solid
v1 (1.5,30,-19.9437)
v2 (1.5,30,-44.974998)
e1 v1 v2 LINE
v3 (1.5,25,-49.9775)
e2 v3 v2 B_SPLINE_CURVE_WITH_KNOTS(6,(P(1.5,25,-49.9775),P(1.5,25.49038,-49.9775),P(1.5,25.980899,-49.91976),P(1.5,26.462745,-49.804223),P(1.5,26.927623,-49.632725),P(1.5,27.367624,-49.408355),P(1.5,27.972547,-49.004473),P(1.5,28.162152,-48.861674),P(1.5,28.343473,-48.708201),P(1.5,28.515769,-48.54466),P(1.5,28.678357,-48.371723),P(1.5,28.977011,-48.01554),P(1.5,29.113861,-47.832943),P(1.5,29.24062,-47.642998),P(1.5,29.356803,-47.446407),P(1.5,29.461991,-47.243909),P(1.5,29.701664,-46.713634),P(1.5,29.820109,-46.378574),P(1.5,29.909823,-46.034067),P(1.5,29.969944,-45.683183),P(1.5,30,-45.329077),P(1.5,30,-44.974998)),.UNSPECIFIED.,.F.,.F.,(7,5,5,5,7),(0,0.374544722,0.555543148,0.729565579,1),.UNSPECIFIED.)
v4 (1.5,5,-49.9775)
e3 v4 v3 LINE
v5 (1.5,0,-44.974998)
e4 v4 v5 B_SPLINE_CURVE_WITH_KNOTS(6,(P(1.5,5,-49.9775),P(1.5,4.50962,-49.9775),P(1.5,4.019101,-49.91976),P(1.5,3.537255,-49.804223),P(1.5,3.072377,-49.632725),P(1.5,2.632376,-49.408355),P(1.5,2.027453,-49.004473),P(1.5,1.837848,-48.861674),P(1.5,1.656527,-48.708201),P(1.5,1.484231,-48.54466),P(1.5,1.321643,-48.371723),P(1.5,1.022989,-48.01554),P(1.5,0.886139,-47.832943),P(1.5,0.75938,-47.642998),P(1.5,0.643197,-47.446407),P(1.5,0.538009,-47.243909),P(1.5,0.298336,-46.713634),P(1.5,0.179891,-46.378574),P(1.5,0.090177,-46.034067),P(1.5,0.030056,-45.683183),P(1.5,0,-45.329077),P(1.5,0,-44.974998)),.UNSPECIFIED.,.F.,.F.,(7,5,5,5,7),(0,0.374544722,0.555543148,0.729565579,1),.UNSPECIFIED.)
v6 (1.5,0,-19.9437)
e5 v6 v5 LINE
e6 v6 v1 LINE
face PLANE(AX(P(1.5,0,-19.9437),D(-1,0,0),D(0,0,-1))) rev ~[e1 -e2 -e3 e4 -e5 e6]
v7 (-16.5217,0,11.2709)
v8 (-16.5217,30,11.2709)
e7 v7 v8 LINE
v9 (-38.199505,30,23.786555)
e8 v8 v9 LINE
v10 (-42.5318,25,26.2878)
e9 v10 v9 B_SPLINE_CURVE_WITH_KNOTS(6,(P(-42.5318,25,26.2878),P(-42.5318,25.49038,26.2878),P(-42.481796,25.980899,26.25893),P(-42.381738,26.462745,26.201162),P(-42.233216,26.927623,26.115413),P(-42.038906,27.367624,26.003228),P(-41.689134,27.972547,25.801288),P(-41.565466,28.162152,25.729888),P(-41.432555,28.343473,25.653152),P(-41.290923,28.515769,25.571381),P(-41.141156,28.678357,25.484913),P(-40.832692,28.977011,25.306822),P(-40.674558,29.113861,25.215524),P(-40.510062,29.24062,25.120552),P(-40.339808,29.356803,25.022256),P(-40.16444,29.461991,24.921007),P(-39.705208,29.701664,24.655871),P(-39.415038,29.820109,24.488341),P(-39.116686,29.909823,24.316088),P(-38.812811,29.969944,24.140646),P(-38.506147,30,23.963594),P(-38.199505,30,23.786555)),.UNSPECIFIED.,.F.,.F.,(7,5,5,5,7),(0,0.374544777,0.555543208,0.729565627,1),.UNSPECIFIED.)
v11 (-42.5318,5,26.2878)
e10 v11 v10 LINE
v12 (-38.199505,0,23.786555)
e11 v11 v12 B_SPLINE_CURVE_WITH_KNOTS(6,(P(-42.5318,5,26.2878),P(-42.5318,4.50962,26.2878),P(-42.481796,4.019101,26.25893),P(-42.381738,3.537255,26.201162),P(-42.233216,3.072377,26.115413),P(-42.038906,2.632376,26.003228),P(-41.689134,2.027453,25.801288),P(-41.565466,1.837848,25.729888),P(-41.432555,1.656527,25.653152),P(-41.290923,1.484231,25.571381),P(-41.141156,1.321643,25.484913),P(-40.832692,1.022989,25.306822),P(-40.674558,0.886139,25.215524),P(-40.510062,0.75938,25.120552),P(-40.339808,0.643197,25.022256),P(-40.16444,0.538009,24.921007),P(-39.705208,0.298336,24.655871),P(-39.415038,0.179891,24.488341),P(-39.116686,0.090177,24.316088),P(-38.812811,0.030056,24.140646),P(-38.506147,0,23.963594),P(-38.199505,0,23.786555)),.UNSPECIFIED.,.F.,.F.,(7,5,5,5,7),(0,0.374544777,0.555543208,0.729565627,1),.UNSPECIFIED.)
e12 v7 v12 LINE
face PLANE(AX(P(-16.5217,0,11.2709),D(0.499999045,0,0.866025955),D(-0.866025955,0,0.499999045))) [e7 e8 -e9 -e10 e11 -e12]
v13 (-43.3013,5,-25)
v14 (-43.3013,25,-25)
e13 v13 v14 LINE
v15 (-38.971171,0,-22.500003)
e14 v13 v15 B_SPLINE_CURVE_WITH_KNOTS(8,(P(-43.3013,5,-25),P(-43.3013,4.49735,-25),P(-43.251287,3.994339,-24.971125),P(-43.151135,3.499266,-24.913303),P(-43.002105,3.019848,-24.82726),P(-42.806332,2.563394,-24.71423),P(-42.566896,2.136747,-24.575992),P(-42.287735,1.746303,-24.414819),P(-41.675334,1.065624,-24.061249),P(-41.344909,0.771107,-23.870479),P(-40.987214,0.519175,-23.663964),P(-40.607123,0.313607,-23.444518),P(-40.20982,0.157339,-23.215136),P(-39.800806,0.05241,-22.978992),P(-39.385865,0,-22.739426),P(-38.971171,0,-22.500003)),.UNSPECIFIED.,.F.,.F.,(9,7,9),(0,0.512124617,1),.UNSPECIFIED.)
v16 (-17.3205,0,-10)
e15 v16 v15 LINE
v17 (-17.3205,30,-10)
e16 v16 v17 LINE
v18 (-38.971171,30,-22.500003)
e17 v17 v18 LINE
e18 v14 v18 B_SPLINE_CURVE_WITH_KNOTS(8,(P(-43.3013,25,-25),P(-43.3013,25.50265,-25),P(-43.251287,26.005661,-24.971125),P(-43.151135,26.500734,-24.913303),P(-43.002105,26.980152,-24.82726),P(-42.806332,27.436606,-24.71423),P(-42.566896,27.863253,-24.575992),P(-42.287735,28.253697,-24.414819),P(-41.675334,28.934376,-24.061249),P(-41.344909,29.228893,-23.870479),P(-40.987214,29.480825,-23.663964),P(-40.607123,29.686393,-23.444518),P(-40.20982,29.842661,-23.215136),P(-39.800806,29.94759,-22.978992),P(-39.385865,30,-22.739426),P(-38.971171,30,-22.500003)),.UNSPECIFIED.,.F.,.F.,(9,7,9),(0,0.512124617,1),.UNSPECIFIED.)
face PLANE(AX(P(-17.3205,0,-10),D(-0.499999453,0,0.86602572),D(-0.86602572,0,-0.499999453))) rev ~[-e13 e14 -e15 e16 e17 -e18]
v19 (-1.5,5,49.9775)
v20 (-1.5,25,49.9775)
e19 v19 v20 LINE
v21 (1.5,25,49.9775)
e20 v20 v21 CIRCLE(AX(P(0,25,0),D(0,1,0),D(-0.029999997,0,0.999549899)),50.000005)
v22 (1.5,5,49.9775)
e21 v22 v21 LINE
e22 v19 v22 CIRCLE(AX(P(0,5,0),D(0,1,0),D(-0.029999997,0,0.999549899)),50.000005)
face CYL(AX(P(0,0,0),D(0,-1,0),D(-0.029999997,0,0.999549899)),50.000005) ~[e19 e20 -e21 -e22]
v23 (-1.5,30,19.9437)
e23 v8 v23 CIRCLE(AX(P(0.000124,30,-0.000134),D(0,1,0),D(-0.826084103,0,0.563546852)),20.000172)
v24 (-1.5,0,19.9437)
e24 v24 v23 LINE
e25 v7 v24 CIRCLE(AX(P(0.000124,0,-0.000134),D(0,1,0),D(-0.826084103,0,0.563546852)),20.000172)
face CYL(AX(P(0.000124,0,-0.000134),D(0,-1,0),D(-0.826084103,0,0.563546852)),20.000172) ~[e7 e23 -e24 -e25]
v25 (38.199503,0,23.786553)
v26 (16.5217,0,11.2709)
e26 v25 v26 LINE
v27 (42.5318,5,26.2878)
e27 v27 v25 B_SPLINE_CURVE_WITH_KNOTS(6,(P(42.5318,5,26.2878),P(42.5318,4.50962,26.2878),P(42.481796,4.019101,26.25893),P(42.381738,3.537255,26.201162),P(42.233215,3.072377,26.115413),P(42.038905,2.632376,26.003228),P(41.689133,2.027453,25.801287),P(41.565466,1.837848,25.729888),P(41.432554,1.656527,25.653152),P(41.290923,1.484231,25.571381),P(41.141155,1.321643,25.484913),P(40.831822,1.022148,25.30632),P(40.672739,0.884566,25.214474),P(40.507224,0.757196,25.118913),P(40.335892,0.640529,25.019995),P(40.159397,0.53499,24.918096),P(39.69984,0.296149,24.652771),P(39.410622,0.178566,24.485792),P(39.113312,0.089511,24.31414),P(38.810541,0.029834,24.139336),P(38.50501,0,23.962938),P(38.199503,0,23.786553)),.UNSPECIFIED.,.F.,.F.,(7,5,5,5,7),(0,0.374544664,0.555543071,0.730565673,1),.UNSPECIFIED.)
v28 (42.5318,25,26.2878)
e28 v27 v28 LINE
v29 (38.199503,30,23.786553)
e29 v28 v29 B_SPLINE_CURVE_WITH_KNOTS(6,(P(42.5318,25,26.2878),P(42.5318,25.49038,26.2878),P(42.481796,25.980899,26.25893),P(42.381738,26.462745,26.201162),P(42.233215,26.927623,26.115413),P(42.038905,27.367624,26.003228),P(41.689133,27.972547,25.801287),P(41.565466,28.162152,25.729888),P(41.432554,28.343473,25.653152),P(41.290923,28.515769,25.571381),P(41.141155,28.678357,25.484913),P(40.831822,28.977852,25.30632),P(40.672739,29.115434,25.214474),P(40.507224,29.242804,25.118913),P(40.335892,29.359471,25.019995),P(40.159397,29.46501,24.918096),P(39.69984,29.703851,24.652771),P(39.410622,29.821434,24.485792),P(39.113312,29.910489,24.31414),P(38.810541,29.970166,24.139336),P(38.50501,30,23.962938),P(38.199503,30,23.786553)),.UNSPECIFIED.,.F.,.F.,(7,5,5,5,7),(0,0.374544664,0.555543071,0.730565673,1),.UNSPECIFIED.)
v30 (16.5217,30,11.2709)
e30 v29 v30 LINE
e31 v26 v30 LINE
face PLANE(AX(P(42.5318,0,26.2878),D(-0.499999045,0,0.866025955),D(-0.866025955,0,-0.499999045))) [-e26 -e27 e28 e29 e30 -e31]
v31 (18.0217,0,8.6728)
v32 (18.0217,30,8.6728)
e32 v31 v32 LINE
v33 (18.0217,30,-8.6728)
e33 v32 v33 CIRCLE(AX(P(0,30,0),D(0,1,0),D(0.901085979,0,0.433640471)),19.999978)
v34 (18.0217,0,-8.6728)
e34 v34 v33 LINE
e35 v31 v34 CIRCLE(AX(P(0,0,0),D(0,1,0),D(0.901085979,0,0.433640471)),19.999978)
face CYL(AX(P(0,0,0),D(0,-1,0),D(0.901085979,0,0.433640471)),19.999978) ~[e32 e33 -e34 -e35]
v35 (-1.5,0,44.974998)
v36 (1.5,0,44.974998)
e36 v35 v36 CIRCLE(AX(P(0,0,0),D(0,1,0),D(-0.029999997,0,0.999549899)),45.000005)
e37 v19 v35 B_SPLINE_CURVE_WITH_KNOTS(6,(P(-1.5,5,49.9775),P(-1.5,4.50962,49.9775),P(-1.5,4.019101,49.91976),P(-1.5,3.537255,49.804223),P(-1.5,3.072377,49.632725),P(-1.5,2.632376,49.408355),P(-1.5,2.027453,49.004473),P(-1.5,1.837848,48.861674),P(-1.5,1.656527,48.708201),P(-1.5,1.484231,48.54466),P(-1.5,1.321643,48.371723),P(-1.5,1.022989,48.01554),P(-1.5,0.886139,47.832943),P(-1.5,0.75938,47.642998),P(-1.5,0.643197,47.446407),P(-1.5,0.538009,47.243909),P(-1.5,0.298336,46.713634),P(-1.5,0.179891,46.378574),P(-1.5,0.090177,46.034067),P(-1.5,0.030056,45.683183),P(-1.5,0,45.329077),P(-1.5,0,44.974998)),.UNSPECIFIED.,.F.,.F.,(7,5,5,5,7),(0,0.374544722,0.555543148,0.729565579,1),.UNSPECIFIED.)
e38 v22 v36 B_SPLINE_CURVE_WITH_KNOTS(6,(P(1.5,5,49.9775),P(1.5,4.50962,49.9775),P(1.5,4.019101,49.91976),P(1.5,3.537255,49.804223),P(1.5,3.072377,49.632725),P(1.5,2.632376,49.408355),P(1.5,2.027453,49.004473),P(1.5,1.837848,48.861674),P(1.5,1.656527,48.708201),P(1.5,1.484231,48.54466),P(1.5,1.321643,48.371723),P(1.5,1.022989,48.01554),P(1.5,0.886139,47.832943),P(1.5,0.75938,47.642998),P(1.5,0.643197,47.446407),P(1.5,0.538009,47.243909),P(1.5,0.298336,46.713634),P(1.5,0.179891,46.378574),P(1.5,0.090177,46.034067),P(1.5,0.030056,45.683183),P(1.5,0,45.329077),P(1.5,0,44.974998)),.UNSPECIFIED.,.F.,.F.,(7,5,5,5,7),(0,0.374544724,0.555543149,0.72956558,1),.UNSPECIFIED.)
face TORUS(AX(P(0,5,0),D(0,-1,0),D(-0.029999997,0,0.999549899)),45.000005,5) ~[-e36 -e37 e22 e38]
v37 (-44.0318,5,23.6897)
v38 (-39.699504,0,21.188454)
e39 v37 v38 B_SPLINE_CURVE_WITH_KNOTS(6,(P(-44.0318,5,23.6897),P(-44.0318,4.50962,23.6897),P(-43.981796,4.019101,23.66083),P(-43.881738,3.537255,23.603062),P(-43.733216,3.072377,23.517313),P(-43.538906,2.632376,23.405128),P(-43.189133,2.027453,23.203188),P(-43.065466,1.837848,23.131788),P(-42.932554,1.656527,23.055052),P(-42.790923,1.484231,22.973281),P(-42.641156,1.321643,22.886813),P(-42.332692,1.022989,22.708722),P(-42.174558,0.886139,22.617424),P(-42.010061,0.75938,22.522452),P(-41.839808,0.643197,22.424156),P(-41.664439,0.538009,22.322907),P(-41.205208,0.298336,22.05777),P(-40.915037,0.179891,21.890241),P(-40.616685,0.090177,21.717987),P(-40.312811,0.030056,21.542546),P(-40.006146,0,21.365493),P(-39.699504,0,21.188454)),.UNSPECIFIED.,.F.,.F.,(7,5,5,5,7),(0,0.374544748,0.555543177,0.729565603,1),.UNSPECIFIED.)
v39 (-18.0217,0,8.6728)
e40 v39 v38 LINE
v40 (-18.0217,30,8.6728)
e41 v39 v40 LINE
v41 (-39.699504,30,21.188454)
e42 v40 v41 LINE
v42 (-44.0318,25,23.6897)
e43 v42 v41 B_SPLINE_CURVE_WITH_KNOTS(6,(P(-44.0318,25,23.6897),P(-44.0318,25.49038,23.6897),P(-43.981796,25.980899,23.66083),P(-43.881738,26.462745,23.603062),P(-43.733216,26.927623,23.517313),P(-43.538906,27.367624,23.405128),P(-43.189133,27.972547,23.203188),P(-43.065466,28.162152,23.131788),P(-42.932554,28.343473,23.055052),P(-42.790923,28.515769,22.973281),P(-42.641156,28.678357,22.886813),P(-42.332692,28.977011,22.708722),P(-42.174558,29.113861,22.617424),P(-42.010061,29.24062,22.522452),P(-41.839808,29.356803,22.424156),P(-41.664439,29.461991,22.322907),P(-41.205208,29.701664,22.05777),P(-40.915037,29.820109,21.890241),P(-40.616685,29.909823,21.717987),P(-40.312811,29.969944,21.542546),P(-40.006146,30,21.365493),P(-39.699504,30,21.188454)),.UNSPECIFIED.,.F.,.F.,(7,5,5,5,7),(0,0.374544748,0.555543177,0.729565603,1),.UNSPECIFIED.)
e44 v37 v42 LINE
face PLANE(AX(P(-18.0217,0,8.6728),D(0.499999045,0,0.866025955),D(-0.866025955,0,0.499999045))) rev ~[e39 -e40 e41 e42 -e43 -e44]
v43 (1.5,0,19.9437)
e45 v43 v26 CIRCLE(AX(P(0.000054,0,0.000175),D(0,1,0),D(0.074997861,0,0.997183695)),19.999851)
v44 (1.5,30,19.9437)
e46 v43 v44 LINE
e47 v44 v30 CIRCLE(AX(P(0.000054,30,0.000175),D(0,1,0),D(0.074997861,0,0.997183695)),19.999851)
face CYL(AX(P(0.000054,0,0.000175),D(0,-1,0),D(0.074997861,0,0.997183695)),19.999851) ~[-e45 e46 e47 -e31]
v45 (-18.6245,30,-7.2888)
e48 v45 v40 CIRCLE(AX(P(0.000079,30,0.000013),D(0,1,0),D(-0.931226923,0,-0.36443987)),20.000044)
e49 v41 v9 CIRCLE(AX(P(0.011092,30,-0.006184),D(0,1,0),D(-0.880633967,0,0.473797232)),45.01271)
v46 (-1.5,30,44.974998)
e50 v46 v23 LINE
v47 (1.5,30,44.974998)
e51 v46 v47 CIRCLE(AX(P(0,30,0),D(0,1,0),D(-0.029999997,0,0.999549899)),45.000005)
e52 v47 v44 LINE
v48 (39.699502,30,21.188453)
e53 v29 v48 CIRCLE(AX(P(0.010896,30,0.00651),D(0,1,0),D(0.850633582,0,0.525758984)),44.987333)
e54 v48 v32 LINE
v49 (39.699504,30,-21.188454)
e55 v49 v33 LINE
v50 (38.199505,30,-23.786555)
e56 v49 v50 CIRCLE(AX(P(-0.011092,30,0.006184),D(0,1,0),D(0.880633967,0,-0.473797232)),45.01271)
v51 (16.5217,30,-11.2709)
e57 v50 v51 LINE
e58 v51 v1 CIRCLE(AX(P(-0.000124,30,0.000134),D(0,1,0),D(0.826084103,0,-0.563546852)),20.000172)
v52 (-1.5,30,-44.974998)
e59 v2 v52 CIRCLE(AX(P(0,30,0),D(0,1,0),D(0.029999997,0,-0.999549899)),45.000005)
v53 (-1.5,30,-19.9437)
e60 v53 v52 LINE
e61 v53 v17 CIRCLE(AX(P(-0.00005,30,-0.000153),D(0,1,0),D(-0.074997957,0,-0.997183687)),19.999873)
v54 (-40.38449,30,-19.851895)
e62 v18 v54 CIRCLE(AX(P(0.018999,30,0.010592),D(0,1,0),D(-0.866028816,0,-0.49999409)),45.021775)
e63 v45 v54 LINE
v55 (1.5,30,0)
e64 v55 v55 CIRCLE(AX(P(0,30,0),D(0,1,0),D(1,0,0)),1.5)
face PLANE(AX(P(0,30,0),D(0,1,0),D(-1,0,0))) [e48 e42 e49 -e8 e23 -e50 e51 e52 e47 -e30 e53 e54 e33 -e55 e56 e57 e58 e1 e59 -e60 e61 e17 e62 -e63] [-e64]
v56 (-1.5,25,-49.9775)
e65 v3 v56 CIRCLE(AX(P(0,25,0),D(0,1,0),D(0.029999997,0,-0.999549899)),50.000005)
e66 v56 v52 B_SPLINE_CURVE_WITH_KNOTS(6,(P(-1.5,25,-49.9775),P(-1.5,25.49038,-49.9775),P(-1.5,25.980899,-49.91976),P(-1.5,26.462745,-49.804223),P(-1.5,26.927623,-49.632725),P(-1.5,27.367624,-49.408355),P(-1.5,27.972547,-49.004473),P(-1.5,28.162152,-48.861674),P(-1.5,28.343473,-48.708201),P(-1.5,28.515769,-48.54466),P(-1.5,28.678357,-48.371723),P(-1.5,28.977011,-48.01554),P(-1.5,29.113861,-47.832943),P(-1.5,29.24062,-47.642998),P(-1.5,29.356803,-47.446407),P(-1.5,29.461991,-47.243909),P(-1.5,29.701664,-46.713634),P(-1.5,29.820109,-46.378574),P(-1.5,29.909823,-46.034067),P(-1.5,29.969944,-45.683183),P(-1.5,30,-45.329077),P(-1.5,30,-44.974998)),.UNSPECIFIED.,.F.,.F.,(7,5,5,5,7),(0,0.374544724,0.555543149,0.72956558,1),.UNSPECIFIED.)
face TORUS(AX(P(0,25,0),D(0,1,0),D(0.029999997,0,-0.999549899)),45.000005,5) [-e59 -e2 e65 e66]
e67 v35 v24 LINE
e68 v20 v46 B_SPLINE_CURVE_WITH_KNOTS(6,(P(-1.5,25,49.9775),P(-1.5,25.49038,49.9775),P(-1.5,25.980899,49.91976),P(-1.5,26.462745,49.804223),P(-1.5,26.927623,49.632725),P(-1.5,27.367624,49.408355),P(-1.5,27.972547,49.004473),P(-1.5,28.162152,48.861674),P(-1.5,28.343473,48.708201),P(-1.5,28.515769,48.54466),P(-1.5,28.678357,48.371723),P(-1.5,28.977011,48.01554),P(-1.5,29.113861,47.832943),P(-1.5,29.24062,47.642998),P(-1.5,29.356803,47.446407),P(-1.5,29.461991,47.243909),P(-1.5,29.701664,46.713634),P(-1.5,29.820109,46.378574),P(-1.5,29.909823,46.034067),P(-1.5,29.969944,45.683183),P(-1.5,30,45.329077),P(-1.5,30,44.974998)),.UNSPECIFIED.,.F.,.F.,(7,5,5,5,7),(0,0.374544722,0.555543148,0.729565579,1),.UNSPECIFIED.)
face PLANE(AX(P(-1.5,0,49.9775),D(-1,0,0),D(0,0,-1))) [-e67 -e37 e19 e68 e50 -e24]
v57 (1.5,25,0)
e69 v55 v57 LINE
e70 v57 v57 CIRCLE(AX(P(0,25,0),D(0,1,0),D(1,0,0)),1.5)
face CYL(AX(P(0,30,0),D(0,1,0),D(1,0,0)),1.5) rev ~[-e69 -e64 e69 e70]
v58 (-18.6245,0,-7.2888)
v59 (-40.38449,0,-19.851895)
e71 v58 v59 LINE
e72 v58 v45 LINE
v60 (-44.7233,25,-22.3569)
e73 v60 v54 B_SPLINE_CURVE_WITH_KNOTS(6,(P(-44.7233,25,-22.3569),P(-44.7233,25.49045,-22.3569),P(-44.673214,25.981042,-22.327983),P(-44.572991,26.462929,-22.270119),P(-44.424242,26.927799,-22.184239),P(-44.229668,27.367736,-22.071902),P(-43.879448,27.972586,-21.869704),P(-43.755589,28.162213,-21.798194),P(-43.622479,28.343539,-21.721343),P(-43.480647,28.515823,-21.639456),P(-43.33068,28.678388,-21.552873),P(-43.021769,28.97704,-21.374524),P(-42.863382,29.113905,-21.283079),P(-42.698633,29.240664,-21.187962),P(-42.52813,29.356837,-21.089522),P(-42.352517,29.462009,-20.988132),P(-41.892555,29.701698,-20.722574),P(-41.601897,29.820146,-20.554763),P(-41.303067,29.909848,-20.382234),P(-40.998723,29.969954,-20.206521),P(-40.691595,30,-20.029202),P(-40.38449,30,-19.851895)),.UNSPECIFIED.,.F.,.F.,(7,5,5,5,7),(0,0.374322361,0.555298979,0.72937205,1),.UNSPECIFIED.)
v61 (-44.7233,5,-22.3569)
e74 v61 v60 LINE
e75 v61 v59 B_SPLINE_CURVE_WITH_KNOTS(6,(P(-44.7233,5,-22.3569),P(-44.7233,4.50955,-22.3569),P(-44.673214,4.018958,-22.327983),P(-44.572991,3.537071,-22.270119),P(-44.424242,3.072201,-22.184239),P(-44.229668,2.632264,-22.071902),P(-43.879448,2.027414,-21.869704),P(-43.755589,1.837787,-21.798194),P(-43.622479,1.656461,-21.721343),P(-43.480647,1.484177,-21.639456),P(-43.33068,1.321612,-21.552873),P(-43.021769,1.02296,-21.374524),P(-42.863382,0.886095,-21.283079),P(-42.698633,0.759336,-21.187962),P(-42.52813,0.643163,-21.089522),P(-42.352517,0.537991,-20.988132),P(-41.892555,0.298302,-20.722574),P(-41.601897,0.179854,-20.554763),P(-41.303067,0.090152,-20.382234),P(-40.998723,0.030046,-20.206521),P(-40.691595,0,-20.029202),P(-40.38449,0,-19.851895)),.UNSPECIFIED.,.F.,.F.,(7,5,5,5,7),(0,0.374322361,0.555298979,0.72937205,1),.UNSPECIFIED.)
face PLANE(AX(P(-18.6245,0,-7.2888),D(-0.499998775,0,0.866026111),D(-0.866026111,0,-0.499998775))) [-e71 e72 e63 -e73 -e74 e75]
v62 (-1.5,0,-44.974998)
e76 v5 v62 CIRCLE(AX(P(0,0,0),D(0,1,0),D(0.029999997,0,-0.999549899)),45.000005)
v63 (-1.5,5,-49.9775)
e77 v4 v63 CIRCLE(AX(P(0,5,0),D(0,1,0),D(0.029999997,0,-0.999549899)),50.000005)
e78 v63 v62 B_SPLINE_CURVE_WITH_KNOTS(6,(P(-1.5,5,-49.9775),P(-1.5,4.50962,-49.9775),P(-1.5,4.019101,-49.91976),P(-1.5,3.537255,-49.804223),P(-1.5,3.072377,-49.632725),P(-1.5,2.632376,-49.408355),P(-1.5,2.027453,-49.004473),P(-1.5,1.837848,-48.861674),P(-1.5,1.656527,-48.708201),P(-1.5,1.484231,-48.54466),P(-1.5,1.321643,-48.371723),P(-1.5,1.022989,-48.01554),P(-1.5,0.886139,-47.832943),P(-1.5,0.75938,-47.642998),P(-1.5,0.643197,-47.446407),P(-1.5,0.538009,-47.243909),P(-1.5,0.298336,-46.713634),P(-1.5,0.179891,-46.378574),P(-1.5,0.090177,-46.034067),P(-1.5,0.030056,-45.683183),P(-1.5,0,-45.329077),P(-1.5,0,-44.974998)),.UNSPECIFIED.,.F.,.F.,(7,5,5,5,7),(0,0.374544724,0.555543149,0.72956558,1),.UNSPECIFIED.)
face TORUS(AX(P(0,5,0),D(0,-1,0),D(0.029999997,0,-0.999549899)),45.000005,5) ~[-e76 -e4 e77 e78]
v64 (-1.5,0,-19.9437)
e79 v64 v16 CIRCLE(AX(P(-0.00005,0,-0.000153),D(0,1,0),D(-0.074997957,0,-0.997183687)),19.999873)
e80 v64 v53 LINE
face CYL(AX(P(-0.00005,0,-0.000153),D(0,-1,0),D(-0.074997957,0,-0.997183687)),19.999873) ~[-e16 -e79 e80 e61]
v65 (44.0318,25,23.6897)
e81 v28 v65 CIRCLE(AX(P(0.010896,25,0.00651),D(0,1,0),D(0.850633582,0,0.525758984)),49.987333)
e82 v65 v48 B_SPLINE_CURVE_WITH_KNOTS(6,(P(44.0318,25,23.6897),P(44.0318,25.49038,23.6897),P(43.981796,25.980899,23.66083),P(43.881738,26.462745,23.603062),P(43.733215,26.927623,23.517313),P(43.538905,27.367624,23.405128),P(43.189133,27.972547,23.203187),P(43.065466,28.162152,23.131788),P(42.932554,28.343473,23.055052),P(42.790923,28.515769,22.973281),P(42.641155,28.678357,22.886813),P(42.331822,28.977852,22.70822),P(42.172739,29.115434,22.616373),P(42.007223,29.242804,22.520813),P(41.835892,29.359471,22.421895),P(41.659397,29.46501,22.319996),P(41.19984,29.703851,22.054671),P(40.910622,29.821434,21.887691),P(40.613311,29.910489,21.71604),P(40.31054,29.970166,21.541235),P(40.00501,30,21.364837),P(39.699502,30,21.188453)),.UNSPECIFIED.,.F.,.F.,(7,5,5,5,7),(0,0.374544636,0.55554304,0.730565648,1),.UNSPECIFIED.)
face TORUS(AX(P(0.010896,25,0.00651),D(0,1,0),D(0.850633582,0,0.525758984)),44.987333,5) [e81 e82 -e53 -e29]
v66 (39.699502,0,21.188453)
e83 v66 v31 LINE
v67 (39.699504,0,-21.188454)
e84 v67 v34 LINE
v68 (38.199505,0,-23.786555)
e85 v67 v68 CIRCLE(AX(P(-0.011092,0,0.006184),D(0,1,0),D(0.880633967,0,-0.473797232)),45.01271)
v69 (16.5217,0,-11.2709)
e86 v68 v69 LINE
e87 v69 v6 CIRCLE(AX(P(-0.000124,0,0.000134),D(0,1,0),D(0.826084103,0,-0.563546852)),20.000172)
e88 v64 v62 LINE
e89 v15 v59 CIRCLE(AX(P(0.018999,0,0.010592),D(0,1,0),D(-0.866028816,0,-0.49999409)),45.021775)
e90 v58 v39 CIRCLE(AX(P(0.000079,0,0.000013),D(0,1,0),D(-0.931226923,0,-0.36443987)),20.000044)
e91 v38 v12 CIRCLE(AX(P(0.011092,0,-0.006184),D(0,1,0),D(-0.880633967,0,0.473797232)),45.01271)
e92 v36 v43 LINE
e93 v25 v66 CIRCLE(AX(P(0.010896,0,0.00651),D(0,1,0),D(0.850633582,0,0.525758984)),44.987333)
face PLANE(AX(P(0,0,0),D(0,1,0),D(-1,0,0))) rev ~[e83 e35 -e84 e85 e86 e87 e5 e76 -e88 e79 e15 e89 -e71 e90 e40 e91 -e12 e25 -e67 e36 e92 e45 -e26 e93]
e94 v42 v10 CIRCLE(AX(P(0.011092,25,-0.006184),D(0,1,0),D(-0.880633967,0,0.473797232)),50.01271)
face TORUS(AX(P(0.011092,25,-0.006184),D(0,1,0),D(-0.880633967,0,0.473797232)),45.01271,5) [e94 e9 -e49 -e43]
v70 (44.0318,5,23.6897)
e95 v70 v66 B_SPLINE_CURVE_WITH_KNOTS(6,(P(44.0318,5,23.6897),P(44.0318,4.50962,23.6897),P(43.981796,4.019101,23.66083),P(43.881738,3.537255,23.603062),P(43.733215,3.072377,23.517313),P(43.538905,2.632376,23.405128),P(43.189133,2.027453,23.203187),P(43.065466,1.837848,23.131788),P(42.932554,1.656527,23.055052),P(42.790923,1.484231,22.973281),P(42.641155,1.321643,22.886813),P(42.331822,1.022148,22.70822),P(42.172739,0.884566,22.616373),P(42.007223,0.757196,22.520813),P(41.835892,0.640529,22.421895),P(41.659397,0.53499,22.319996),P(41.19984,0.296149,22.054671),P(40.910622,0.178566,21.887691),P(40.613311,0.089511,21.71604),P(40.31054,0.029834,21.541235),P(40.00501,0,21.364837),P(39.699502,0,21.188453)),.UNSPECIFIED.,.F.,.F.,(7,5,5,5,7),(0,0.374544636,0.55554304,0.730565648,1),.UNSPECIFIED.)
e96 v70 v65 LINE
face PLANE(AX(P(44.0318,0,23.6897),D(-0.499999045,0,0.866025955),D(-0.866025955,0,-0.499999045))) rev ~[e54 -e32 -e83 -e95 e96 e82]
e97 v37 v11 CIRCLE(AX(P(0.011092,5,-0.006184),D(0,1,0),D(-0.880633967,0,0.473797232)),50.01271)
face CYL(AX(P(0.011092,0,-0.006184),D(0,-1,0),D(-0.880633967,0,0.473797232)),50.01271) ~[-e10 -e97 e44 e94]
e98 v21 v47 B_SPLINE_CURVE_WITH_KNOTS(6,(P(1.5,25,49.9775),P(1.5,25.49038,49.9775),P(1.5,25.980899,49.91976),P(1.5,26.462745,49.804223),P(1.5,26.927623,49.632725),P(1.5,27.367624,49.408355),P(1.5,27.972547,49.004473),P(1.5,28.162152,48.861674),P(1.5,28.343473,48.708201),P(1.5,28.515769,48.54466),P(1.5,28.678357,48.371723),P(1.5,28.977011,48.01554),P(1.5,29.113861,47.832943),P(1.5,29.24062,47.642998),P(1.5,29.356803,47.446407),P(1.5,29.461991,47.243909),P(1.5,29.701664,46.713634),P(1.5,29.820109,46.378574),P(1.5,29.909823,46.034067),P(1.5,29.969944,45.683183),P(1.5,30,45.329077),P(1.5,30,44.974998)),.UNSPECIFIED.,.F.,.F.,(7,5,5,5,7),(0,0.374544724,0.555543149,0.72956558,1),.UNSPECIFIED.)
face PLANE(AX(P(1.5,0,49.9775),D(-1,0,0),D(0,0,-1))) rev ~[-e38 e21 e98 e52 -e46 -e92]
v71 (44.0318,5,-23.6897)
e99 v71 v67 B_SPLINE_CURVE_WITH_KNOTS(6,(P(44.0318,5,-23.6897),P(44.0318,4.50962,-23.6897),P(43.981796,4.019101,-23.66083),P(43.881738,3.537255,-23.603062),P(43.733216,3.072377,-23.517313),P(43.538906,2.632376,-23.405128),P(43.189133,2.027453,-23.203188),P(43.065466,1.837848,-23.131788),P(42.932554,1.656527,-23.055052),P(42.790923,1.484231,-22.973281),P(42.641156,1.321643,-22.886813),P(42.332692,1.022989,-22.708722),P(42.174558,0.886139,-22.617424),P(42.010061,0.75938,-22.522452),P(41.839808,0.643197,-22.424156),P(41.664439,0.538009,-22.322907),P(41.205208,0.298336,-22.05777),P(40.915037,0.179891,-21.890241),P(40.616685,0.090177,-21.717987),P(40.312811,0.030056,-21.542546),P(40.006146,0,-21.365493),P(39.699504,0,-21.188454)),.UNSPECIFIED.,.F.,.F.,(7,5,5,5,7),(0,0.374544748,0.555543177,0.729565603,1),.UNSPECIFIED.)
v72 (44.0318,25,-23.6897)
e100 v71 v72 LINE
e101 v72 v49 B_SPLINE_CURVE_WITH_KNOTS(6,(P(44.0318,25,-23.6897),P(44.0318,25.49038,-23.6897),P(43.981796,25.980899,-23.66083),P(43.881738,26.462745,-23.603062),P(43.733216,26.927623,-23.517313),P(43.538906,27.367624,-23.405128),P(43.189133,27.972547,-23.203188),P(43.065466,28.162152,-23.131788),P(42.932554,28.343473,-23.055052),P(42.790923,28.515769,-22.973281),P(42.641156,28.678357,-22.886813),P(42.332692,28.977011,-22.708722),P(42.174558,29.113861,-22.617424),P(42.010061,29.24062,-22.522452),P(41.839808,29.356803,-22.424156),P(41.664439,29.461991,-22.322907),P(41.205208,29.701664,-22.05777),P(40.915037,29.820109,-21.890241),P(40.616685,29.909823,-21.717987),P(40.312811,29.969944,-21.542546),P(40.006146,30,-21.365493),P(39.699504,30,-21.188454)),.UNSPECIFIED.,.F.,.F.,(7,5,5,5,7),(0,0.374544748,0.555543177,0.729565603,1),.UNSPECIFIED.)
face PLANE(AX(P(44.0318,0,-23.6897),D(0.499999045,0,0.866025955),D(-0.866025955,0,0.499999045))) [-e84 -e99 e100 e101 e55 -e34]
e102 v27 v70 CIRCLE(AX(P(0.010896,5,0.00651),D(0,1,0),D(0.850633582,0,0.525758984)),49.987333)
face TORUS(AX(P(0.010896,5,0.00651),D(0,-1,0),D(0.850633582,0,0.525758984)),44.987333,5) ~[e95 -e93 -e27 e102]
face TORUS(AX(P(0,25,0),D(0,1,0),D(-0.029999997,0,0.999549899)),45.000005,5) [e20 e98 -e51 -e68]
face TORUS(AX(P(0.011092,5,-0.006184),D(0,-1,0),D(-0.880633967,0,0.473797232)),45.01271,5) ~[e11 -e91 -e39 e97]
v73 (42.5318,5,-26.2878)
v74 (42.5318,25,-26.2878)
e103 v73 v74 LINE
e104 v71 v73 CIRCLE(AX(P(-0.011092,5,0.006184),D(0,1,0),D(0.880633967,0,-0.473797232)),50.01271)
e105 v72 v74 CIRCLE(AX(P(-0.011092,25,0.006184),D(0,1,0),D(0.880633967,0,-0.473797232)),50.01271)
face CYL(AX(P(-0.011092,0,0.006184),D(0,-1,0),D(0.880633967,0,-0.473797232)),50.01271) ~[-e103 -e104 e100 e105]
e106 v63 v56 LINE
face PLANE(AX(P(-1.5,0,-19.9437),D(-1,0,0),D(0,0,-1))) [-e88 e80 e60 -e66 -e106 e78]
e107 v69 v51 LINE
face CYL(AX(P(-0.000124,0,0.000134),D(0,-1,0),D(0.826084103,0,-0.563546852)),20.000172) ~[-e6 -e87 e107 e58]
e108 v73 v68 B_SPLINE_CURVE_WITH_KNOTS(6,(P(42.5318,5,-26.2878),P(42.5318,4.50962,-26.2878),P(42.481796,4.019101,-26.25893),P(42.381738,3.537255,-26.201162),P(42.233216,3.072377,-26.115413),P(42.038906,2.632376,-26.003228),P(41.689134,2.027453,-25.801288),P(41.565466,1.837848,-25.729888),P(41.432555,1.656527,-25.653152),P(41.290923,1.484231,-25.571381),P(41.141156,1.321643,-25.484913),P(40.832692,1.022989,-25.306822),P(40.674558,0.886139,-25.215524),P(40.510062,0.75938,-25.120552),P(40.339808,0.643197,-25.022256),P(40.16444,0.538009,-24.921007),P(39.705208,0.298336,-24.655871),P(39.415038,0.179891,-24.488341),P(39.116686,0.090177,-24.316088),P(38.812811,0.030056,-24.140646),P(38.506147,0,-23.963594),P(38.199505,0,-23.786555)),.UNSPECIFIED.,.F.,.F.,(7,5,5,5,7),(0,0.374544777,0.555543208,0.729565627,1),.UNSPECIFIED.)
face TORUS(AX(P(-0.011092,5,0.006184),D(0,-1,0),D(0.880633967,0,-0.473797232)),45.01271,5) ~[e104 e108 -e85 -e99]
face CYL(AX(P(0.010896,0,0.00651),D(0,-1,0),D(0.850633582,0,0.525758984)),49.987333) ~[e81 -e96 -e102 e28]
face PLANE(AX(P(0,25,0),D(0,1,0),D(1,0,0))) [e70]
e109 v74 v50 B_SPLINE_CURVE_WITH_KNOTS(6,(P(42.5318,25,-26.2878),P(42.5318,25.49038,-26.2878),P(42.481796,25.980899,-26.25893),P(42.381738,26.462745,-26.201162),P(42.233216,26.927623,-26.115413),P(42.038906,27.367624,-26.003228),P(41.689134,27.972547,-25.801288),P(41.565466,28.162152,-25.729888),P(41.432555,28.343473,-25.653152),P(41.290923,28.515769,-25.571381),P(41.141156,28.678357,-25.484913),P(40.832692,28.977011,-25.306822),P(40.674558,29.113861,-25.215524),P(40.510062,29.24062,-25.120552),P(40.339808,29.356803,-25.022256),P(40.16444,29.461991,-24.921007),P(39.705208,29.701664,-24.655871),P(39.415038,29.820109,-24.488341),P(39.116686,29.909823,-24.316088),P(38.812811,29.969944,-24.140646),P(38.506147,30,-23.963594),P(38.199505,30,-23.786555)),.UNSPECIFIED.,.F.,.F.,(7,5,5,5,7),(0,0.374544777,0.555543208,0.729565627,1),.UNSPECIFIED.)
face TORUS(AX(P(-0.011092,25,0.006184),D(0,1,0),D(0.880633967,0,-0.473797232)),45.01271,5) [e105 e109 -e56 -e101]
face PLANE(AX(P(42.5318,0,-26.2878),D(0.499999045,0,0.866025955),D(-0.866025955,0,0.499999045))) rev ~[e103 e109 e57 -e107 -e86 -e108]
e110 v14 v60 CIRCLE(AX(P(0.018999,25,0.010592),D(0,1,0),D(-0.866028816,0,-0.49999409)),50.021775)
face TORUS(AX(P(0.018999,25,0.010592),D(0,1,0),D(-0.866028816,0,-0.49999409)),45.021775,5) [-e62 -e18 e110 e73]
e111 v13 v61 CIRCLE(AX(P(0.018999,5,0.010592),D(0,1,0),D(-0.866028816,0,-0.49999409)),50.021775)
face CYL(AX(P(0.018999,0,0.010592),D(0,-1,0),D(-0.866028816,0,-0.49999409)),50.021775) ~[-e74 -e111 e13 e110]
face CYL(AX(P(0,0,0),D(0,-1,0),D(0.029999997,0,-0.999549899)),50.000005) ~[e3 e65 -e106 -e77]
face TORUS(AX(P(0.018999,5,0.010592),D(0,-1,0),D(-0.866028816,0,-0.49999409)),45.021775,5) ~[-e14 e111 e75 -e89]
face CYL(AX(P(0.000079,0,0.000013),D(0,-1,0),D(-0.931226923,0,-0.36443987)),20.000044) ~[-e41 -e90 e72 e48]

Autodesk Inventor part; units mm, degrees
ref_plane "YZ Plane" through (0, 0, 0) normal (1, 0, 0) x (0, 1, 0)
ref_plane "XZ Plane" through (0, 0, 0) normal (0, 1, 0) x (-1, 0, 0)
ref_plane "XY Plane" through (0, 0, 0) normal (0, 0, 1) x (1, 0, 0)
sketch "Sketch1" plane through (0, 0, 0) normal (0, 1, 0) x (-1, 0, 0)
  line L0 (0, 50) -> (0, 20) construction
  line L1 (0, -20) -> (0, -50) construction
  line L2 (-43.3013, 25) -> (-17.3205, 10) construction
  line L3 (18.0217, -8.6728) -> (44.0318, -23.6897) construction
  line L4 (-43.3013, -25) -> (-17.3205, -10) construction
  line L5 (17.3205, 10) -> (43.3013, 25) construction
  line L6 (-1.5, -19.9437) -> (-1.5, -49.9775)
  line L7 (1.5, -19.9437) -> (1.5, -49.9775)
  line L8 (-44.0318, -23.6897) -> (-18.0217, -8.6728)
  line L9 (-42.5318, -26.2878) -> (-16.5217, -11.2709)
  line L10 (-44.0318, 23.6897) -> (-18.0217, 8.6728)
  line L11 (-42.5318, 26.2878) -> (-16.5217, 11.2709)
  line L12 (-1.5, 49.9775) -> (-1.5, 19.9437)
  line L13 (1.5, 49.9775) -> (1.5, 19.9437)
  line L14 (16.5217, 11.2709) -> (42.5318, 26.2878)
  line L15 (18.0217, 8.6728) -> (44.0318, 23.6897)
  line L16 (17.3205, -10) -> (43.3013, -25)
  line L17 (18.6245, -7.2888) -> (44.7233, -22.3569)
  arc A0 (-1.5, -49.9775) -> (1.5, -49.9775) centre (0, 0) ccw
  arc A1 (-44.0318, -23.6897) -> (-42.5318, -26.2878) centre (0, 0) ccw
  arc A2 (-42.5318, 26.2878) -> (-44.0318, 23.6897) centre (0, 0) ccw
  arc A3 (1.5, 49.9775) -> (-1.5, 49.9775) centre (0, 0) ccw
  arc A4 (43.3013, -25) -> (44.7233, -22.3569) centre (0, 0) ccw
  arc A5 (44.0318, 23.6897) -> (42.5318, 26.2878) centre (0, 0) ccw
  arc A6 (16.5217, 11.2709) -> (1.5, 19.9437) centre (0, 0) ccw
  arc A7 (18.6245, -7.2888) -> (18.0217, 8.6728) centre (0, 0) ccw
  arc A8 (1.5, -19.9437) -> (17.3205, -10) centre (0, 0) ccw
  arc A9 (-16.5217, -11.2709) -> (-1.5, -19.9437) centre (0, 0) ccw
  arc A10 (-1.5, 19.9437) -> (-16.5217, 11.2709) centre (0, 0) ccw
  arc A11 (-18.0217, 8.6728) -> (-18.0217, -8.6728) centre (0, 0) ccw
  dimension "d8" = 1.5
  dimension "d9" = 1.5
  dimension "d10" = 1.5
  dimension "d11" = 1.5
  dimension "d12" = 1.5
  dimension "d13" = 1.5
  dimension "d14" = 1.5
  dimension "d15" = 1.5
  dimension "d16" = 1.5
  dimension "d17" = 1.5
  dimension "d18" = 1.5
  dimension "d19" = 1.5
extrude "Extrusion1" add sketch "Sketch1" along normal blind 30
fillet "Fillet1" radius 5 12 edges at (-43.3013, 30, 25) (-43.3013, 0, 25) (-44.0321, 30, -23.6891) (-44.0321, 0, -23.6891) (0, 30, 50) (0, 0, 50) (43.3013, 0, 25) (43.3013, 30, 25) (43.3013, 30, -25) (43.3013, 0, -25) (0, 30, -50) (0, 0, -50)
sketch "Sketch2" plane through (0, 30, 0) normal (0, 1, 0) x (1, 0, 0)
  arc A0 (1.5, 44.975) -> (-1.5, 44.975) centre (0, 0) ccw construction
  line L0 (-1.5, 44.975) -> (-1.5, 19.9437) construction
  arc A1 (-1.5, 19.9437) -> (-17.3205, 10) centre (0, 0) ccw construction
  line L1 (-17.3205, 10) -> (-38.9711, 22.5) construction
  arc A2 (-38.9711, 22.5) -> (-40.3844, 19.8519) centre (0, 0) ccw construction
  line L2 (-40.3844, 19.8519) -> (-18.6245, 7.2888) construction
  arc A3 (-18.6245, 7.2888) -> (-18.0217, -8.6728) centre (0, 0) ccw construction
  line L3 (-18.0217, -8.6728) -> (-39.6995, -21.1885) construction
  arc A4 (-39.6995, -21.1885) -> (-38.1995, -23.7865) centre (0, 0) ccw construction
  line L4 (-38.1995, -23.7865) -> (-16.5217, -11.2709) construction
  arc A5 (-16.5217, -11.2709) -> (-1.5, -19.9437) centre (0, 0) ccw construction
  line L5 (-1.5, -19.9437) -> (-1.5, -44.975) construction
  arc A6 (-1.5, -44.975) -> (1.5, -44.975) centre (0, 0) ccw construction
  line L6 (1.5, -44.975) -> (1.5, -19.9437) construction
  arc A7 (1.5, -19.9437) -> (16.5217, -11.2709) centre (0, 0) ccw construction
  line L7 (16.5217, -11.2709) -> (38.1995, -23.7865) construction
  arc A8 (38.1995, -23.7865) -> (39.6995, -21.1885) centre (0, 0) ccw construction
  line L8 (39.6995, -21.1885) -> (18.0217, -8.6728) construction
  arc A9 (18.0217, -8.6728) -> (18.0217, 8.6728) centre (0, 0) ccw construction
  line L9 (18.0217, 8.6728) -> (39.6995, 21.1885) construction
  arc A10 (39.6995, 21.1885) -> (38.1995, 23.7865) centre (0, 0) ccw construction
  line L10 (38.1995, 23.7865) -> (16.5217, 11.2709) construction
  arc A11 (16.5217, 11.2709) -> (1.5, 19.9437) centre (0, 0) ccw construction
  line L11 (1.5, 19.9437) -> (1.5, 44.975) construction
  circle A12 centre (0, 0) radius 1.5
  dimension "d23" = 3
extrude "Extrusion2" cut sketch "Sketch2" against normal blind 5
equation "\"d8\" = 0.5 * blade_width"
equation "\"d9\" = 0.5 * blade_width"
equation "\"d10\" = 0.5 * blade_width"
equation "\"d11\" = 0.5 * blade_width"
equation "\"d12\" = 0.5 * blade_width"
equation "\"d13\" = 0.5 * blade_width"
equation "\"d14\" = 0.5 * blade_width"
equation "\"d15\" = 0.5 * blade_width"
equation "\"d16\" = 0.5 * blade_width"
equation "\"d17\" = 0.5 * blade_width"
equation "\"d18\" = 0.5 * blade_width"
equation "\"d19\" = 0.5 * blade_width"
equation "\"d20\" = blade_height"
equation "\"blade_width\" = 3"
equation "\"blade_height\" = 30"
properties part number "sketch_for_propeller"
